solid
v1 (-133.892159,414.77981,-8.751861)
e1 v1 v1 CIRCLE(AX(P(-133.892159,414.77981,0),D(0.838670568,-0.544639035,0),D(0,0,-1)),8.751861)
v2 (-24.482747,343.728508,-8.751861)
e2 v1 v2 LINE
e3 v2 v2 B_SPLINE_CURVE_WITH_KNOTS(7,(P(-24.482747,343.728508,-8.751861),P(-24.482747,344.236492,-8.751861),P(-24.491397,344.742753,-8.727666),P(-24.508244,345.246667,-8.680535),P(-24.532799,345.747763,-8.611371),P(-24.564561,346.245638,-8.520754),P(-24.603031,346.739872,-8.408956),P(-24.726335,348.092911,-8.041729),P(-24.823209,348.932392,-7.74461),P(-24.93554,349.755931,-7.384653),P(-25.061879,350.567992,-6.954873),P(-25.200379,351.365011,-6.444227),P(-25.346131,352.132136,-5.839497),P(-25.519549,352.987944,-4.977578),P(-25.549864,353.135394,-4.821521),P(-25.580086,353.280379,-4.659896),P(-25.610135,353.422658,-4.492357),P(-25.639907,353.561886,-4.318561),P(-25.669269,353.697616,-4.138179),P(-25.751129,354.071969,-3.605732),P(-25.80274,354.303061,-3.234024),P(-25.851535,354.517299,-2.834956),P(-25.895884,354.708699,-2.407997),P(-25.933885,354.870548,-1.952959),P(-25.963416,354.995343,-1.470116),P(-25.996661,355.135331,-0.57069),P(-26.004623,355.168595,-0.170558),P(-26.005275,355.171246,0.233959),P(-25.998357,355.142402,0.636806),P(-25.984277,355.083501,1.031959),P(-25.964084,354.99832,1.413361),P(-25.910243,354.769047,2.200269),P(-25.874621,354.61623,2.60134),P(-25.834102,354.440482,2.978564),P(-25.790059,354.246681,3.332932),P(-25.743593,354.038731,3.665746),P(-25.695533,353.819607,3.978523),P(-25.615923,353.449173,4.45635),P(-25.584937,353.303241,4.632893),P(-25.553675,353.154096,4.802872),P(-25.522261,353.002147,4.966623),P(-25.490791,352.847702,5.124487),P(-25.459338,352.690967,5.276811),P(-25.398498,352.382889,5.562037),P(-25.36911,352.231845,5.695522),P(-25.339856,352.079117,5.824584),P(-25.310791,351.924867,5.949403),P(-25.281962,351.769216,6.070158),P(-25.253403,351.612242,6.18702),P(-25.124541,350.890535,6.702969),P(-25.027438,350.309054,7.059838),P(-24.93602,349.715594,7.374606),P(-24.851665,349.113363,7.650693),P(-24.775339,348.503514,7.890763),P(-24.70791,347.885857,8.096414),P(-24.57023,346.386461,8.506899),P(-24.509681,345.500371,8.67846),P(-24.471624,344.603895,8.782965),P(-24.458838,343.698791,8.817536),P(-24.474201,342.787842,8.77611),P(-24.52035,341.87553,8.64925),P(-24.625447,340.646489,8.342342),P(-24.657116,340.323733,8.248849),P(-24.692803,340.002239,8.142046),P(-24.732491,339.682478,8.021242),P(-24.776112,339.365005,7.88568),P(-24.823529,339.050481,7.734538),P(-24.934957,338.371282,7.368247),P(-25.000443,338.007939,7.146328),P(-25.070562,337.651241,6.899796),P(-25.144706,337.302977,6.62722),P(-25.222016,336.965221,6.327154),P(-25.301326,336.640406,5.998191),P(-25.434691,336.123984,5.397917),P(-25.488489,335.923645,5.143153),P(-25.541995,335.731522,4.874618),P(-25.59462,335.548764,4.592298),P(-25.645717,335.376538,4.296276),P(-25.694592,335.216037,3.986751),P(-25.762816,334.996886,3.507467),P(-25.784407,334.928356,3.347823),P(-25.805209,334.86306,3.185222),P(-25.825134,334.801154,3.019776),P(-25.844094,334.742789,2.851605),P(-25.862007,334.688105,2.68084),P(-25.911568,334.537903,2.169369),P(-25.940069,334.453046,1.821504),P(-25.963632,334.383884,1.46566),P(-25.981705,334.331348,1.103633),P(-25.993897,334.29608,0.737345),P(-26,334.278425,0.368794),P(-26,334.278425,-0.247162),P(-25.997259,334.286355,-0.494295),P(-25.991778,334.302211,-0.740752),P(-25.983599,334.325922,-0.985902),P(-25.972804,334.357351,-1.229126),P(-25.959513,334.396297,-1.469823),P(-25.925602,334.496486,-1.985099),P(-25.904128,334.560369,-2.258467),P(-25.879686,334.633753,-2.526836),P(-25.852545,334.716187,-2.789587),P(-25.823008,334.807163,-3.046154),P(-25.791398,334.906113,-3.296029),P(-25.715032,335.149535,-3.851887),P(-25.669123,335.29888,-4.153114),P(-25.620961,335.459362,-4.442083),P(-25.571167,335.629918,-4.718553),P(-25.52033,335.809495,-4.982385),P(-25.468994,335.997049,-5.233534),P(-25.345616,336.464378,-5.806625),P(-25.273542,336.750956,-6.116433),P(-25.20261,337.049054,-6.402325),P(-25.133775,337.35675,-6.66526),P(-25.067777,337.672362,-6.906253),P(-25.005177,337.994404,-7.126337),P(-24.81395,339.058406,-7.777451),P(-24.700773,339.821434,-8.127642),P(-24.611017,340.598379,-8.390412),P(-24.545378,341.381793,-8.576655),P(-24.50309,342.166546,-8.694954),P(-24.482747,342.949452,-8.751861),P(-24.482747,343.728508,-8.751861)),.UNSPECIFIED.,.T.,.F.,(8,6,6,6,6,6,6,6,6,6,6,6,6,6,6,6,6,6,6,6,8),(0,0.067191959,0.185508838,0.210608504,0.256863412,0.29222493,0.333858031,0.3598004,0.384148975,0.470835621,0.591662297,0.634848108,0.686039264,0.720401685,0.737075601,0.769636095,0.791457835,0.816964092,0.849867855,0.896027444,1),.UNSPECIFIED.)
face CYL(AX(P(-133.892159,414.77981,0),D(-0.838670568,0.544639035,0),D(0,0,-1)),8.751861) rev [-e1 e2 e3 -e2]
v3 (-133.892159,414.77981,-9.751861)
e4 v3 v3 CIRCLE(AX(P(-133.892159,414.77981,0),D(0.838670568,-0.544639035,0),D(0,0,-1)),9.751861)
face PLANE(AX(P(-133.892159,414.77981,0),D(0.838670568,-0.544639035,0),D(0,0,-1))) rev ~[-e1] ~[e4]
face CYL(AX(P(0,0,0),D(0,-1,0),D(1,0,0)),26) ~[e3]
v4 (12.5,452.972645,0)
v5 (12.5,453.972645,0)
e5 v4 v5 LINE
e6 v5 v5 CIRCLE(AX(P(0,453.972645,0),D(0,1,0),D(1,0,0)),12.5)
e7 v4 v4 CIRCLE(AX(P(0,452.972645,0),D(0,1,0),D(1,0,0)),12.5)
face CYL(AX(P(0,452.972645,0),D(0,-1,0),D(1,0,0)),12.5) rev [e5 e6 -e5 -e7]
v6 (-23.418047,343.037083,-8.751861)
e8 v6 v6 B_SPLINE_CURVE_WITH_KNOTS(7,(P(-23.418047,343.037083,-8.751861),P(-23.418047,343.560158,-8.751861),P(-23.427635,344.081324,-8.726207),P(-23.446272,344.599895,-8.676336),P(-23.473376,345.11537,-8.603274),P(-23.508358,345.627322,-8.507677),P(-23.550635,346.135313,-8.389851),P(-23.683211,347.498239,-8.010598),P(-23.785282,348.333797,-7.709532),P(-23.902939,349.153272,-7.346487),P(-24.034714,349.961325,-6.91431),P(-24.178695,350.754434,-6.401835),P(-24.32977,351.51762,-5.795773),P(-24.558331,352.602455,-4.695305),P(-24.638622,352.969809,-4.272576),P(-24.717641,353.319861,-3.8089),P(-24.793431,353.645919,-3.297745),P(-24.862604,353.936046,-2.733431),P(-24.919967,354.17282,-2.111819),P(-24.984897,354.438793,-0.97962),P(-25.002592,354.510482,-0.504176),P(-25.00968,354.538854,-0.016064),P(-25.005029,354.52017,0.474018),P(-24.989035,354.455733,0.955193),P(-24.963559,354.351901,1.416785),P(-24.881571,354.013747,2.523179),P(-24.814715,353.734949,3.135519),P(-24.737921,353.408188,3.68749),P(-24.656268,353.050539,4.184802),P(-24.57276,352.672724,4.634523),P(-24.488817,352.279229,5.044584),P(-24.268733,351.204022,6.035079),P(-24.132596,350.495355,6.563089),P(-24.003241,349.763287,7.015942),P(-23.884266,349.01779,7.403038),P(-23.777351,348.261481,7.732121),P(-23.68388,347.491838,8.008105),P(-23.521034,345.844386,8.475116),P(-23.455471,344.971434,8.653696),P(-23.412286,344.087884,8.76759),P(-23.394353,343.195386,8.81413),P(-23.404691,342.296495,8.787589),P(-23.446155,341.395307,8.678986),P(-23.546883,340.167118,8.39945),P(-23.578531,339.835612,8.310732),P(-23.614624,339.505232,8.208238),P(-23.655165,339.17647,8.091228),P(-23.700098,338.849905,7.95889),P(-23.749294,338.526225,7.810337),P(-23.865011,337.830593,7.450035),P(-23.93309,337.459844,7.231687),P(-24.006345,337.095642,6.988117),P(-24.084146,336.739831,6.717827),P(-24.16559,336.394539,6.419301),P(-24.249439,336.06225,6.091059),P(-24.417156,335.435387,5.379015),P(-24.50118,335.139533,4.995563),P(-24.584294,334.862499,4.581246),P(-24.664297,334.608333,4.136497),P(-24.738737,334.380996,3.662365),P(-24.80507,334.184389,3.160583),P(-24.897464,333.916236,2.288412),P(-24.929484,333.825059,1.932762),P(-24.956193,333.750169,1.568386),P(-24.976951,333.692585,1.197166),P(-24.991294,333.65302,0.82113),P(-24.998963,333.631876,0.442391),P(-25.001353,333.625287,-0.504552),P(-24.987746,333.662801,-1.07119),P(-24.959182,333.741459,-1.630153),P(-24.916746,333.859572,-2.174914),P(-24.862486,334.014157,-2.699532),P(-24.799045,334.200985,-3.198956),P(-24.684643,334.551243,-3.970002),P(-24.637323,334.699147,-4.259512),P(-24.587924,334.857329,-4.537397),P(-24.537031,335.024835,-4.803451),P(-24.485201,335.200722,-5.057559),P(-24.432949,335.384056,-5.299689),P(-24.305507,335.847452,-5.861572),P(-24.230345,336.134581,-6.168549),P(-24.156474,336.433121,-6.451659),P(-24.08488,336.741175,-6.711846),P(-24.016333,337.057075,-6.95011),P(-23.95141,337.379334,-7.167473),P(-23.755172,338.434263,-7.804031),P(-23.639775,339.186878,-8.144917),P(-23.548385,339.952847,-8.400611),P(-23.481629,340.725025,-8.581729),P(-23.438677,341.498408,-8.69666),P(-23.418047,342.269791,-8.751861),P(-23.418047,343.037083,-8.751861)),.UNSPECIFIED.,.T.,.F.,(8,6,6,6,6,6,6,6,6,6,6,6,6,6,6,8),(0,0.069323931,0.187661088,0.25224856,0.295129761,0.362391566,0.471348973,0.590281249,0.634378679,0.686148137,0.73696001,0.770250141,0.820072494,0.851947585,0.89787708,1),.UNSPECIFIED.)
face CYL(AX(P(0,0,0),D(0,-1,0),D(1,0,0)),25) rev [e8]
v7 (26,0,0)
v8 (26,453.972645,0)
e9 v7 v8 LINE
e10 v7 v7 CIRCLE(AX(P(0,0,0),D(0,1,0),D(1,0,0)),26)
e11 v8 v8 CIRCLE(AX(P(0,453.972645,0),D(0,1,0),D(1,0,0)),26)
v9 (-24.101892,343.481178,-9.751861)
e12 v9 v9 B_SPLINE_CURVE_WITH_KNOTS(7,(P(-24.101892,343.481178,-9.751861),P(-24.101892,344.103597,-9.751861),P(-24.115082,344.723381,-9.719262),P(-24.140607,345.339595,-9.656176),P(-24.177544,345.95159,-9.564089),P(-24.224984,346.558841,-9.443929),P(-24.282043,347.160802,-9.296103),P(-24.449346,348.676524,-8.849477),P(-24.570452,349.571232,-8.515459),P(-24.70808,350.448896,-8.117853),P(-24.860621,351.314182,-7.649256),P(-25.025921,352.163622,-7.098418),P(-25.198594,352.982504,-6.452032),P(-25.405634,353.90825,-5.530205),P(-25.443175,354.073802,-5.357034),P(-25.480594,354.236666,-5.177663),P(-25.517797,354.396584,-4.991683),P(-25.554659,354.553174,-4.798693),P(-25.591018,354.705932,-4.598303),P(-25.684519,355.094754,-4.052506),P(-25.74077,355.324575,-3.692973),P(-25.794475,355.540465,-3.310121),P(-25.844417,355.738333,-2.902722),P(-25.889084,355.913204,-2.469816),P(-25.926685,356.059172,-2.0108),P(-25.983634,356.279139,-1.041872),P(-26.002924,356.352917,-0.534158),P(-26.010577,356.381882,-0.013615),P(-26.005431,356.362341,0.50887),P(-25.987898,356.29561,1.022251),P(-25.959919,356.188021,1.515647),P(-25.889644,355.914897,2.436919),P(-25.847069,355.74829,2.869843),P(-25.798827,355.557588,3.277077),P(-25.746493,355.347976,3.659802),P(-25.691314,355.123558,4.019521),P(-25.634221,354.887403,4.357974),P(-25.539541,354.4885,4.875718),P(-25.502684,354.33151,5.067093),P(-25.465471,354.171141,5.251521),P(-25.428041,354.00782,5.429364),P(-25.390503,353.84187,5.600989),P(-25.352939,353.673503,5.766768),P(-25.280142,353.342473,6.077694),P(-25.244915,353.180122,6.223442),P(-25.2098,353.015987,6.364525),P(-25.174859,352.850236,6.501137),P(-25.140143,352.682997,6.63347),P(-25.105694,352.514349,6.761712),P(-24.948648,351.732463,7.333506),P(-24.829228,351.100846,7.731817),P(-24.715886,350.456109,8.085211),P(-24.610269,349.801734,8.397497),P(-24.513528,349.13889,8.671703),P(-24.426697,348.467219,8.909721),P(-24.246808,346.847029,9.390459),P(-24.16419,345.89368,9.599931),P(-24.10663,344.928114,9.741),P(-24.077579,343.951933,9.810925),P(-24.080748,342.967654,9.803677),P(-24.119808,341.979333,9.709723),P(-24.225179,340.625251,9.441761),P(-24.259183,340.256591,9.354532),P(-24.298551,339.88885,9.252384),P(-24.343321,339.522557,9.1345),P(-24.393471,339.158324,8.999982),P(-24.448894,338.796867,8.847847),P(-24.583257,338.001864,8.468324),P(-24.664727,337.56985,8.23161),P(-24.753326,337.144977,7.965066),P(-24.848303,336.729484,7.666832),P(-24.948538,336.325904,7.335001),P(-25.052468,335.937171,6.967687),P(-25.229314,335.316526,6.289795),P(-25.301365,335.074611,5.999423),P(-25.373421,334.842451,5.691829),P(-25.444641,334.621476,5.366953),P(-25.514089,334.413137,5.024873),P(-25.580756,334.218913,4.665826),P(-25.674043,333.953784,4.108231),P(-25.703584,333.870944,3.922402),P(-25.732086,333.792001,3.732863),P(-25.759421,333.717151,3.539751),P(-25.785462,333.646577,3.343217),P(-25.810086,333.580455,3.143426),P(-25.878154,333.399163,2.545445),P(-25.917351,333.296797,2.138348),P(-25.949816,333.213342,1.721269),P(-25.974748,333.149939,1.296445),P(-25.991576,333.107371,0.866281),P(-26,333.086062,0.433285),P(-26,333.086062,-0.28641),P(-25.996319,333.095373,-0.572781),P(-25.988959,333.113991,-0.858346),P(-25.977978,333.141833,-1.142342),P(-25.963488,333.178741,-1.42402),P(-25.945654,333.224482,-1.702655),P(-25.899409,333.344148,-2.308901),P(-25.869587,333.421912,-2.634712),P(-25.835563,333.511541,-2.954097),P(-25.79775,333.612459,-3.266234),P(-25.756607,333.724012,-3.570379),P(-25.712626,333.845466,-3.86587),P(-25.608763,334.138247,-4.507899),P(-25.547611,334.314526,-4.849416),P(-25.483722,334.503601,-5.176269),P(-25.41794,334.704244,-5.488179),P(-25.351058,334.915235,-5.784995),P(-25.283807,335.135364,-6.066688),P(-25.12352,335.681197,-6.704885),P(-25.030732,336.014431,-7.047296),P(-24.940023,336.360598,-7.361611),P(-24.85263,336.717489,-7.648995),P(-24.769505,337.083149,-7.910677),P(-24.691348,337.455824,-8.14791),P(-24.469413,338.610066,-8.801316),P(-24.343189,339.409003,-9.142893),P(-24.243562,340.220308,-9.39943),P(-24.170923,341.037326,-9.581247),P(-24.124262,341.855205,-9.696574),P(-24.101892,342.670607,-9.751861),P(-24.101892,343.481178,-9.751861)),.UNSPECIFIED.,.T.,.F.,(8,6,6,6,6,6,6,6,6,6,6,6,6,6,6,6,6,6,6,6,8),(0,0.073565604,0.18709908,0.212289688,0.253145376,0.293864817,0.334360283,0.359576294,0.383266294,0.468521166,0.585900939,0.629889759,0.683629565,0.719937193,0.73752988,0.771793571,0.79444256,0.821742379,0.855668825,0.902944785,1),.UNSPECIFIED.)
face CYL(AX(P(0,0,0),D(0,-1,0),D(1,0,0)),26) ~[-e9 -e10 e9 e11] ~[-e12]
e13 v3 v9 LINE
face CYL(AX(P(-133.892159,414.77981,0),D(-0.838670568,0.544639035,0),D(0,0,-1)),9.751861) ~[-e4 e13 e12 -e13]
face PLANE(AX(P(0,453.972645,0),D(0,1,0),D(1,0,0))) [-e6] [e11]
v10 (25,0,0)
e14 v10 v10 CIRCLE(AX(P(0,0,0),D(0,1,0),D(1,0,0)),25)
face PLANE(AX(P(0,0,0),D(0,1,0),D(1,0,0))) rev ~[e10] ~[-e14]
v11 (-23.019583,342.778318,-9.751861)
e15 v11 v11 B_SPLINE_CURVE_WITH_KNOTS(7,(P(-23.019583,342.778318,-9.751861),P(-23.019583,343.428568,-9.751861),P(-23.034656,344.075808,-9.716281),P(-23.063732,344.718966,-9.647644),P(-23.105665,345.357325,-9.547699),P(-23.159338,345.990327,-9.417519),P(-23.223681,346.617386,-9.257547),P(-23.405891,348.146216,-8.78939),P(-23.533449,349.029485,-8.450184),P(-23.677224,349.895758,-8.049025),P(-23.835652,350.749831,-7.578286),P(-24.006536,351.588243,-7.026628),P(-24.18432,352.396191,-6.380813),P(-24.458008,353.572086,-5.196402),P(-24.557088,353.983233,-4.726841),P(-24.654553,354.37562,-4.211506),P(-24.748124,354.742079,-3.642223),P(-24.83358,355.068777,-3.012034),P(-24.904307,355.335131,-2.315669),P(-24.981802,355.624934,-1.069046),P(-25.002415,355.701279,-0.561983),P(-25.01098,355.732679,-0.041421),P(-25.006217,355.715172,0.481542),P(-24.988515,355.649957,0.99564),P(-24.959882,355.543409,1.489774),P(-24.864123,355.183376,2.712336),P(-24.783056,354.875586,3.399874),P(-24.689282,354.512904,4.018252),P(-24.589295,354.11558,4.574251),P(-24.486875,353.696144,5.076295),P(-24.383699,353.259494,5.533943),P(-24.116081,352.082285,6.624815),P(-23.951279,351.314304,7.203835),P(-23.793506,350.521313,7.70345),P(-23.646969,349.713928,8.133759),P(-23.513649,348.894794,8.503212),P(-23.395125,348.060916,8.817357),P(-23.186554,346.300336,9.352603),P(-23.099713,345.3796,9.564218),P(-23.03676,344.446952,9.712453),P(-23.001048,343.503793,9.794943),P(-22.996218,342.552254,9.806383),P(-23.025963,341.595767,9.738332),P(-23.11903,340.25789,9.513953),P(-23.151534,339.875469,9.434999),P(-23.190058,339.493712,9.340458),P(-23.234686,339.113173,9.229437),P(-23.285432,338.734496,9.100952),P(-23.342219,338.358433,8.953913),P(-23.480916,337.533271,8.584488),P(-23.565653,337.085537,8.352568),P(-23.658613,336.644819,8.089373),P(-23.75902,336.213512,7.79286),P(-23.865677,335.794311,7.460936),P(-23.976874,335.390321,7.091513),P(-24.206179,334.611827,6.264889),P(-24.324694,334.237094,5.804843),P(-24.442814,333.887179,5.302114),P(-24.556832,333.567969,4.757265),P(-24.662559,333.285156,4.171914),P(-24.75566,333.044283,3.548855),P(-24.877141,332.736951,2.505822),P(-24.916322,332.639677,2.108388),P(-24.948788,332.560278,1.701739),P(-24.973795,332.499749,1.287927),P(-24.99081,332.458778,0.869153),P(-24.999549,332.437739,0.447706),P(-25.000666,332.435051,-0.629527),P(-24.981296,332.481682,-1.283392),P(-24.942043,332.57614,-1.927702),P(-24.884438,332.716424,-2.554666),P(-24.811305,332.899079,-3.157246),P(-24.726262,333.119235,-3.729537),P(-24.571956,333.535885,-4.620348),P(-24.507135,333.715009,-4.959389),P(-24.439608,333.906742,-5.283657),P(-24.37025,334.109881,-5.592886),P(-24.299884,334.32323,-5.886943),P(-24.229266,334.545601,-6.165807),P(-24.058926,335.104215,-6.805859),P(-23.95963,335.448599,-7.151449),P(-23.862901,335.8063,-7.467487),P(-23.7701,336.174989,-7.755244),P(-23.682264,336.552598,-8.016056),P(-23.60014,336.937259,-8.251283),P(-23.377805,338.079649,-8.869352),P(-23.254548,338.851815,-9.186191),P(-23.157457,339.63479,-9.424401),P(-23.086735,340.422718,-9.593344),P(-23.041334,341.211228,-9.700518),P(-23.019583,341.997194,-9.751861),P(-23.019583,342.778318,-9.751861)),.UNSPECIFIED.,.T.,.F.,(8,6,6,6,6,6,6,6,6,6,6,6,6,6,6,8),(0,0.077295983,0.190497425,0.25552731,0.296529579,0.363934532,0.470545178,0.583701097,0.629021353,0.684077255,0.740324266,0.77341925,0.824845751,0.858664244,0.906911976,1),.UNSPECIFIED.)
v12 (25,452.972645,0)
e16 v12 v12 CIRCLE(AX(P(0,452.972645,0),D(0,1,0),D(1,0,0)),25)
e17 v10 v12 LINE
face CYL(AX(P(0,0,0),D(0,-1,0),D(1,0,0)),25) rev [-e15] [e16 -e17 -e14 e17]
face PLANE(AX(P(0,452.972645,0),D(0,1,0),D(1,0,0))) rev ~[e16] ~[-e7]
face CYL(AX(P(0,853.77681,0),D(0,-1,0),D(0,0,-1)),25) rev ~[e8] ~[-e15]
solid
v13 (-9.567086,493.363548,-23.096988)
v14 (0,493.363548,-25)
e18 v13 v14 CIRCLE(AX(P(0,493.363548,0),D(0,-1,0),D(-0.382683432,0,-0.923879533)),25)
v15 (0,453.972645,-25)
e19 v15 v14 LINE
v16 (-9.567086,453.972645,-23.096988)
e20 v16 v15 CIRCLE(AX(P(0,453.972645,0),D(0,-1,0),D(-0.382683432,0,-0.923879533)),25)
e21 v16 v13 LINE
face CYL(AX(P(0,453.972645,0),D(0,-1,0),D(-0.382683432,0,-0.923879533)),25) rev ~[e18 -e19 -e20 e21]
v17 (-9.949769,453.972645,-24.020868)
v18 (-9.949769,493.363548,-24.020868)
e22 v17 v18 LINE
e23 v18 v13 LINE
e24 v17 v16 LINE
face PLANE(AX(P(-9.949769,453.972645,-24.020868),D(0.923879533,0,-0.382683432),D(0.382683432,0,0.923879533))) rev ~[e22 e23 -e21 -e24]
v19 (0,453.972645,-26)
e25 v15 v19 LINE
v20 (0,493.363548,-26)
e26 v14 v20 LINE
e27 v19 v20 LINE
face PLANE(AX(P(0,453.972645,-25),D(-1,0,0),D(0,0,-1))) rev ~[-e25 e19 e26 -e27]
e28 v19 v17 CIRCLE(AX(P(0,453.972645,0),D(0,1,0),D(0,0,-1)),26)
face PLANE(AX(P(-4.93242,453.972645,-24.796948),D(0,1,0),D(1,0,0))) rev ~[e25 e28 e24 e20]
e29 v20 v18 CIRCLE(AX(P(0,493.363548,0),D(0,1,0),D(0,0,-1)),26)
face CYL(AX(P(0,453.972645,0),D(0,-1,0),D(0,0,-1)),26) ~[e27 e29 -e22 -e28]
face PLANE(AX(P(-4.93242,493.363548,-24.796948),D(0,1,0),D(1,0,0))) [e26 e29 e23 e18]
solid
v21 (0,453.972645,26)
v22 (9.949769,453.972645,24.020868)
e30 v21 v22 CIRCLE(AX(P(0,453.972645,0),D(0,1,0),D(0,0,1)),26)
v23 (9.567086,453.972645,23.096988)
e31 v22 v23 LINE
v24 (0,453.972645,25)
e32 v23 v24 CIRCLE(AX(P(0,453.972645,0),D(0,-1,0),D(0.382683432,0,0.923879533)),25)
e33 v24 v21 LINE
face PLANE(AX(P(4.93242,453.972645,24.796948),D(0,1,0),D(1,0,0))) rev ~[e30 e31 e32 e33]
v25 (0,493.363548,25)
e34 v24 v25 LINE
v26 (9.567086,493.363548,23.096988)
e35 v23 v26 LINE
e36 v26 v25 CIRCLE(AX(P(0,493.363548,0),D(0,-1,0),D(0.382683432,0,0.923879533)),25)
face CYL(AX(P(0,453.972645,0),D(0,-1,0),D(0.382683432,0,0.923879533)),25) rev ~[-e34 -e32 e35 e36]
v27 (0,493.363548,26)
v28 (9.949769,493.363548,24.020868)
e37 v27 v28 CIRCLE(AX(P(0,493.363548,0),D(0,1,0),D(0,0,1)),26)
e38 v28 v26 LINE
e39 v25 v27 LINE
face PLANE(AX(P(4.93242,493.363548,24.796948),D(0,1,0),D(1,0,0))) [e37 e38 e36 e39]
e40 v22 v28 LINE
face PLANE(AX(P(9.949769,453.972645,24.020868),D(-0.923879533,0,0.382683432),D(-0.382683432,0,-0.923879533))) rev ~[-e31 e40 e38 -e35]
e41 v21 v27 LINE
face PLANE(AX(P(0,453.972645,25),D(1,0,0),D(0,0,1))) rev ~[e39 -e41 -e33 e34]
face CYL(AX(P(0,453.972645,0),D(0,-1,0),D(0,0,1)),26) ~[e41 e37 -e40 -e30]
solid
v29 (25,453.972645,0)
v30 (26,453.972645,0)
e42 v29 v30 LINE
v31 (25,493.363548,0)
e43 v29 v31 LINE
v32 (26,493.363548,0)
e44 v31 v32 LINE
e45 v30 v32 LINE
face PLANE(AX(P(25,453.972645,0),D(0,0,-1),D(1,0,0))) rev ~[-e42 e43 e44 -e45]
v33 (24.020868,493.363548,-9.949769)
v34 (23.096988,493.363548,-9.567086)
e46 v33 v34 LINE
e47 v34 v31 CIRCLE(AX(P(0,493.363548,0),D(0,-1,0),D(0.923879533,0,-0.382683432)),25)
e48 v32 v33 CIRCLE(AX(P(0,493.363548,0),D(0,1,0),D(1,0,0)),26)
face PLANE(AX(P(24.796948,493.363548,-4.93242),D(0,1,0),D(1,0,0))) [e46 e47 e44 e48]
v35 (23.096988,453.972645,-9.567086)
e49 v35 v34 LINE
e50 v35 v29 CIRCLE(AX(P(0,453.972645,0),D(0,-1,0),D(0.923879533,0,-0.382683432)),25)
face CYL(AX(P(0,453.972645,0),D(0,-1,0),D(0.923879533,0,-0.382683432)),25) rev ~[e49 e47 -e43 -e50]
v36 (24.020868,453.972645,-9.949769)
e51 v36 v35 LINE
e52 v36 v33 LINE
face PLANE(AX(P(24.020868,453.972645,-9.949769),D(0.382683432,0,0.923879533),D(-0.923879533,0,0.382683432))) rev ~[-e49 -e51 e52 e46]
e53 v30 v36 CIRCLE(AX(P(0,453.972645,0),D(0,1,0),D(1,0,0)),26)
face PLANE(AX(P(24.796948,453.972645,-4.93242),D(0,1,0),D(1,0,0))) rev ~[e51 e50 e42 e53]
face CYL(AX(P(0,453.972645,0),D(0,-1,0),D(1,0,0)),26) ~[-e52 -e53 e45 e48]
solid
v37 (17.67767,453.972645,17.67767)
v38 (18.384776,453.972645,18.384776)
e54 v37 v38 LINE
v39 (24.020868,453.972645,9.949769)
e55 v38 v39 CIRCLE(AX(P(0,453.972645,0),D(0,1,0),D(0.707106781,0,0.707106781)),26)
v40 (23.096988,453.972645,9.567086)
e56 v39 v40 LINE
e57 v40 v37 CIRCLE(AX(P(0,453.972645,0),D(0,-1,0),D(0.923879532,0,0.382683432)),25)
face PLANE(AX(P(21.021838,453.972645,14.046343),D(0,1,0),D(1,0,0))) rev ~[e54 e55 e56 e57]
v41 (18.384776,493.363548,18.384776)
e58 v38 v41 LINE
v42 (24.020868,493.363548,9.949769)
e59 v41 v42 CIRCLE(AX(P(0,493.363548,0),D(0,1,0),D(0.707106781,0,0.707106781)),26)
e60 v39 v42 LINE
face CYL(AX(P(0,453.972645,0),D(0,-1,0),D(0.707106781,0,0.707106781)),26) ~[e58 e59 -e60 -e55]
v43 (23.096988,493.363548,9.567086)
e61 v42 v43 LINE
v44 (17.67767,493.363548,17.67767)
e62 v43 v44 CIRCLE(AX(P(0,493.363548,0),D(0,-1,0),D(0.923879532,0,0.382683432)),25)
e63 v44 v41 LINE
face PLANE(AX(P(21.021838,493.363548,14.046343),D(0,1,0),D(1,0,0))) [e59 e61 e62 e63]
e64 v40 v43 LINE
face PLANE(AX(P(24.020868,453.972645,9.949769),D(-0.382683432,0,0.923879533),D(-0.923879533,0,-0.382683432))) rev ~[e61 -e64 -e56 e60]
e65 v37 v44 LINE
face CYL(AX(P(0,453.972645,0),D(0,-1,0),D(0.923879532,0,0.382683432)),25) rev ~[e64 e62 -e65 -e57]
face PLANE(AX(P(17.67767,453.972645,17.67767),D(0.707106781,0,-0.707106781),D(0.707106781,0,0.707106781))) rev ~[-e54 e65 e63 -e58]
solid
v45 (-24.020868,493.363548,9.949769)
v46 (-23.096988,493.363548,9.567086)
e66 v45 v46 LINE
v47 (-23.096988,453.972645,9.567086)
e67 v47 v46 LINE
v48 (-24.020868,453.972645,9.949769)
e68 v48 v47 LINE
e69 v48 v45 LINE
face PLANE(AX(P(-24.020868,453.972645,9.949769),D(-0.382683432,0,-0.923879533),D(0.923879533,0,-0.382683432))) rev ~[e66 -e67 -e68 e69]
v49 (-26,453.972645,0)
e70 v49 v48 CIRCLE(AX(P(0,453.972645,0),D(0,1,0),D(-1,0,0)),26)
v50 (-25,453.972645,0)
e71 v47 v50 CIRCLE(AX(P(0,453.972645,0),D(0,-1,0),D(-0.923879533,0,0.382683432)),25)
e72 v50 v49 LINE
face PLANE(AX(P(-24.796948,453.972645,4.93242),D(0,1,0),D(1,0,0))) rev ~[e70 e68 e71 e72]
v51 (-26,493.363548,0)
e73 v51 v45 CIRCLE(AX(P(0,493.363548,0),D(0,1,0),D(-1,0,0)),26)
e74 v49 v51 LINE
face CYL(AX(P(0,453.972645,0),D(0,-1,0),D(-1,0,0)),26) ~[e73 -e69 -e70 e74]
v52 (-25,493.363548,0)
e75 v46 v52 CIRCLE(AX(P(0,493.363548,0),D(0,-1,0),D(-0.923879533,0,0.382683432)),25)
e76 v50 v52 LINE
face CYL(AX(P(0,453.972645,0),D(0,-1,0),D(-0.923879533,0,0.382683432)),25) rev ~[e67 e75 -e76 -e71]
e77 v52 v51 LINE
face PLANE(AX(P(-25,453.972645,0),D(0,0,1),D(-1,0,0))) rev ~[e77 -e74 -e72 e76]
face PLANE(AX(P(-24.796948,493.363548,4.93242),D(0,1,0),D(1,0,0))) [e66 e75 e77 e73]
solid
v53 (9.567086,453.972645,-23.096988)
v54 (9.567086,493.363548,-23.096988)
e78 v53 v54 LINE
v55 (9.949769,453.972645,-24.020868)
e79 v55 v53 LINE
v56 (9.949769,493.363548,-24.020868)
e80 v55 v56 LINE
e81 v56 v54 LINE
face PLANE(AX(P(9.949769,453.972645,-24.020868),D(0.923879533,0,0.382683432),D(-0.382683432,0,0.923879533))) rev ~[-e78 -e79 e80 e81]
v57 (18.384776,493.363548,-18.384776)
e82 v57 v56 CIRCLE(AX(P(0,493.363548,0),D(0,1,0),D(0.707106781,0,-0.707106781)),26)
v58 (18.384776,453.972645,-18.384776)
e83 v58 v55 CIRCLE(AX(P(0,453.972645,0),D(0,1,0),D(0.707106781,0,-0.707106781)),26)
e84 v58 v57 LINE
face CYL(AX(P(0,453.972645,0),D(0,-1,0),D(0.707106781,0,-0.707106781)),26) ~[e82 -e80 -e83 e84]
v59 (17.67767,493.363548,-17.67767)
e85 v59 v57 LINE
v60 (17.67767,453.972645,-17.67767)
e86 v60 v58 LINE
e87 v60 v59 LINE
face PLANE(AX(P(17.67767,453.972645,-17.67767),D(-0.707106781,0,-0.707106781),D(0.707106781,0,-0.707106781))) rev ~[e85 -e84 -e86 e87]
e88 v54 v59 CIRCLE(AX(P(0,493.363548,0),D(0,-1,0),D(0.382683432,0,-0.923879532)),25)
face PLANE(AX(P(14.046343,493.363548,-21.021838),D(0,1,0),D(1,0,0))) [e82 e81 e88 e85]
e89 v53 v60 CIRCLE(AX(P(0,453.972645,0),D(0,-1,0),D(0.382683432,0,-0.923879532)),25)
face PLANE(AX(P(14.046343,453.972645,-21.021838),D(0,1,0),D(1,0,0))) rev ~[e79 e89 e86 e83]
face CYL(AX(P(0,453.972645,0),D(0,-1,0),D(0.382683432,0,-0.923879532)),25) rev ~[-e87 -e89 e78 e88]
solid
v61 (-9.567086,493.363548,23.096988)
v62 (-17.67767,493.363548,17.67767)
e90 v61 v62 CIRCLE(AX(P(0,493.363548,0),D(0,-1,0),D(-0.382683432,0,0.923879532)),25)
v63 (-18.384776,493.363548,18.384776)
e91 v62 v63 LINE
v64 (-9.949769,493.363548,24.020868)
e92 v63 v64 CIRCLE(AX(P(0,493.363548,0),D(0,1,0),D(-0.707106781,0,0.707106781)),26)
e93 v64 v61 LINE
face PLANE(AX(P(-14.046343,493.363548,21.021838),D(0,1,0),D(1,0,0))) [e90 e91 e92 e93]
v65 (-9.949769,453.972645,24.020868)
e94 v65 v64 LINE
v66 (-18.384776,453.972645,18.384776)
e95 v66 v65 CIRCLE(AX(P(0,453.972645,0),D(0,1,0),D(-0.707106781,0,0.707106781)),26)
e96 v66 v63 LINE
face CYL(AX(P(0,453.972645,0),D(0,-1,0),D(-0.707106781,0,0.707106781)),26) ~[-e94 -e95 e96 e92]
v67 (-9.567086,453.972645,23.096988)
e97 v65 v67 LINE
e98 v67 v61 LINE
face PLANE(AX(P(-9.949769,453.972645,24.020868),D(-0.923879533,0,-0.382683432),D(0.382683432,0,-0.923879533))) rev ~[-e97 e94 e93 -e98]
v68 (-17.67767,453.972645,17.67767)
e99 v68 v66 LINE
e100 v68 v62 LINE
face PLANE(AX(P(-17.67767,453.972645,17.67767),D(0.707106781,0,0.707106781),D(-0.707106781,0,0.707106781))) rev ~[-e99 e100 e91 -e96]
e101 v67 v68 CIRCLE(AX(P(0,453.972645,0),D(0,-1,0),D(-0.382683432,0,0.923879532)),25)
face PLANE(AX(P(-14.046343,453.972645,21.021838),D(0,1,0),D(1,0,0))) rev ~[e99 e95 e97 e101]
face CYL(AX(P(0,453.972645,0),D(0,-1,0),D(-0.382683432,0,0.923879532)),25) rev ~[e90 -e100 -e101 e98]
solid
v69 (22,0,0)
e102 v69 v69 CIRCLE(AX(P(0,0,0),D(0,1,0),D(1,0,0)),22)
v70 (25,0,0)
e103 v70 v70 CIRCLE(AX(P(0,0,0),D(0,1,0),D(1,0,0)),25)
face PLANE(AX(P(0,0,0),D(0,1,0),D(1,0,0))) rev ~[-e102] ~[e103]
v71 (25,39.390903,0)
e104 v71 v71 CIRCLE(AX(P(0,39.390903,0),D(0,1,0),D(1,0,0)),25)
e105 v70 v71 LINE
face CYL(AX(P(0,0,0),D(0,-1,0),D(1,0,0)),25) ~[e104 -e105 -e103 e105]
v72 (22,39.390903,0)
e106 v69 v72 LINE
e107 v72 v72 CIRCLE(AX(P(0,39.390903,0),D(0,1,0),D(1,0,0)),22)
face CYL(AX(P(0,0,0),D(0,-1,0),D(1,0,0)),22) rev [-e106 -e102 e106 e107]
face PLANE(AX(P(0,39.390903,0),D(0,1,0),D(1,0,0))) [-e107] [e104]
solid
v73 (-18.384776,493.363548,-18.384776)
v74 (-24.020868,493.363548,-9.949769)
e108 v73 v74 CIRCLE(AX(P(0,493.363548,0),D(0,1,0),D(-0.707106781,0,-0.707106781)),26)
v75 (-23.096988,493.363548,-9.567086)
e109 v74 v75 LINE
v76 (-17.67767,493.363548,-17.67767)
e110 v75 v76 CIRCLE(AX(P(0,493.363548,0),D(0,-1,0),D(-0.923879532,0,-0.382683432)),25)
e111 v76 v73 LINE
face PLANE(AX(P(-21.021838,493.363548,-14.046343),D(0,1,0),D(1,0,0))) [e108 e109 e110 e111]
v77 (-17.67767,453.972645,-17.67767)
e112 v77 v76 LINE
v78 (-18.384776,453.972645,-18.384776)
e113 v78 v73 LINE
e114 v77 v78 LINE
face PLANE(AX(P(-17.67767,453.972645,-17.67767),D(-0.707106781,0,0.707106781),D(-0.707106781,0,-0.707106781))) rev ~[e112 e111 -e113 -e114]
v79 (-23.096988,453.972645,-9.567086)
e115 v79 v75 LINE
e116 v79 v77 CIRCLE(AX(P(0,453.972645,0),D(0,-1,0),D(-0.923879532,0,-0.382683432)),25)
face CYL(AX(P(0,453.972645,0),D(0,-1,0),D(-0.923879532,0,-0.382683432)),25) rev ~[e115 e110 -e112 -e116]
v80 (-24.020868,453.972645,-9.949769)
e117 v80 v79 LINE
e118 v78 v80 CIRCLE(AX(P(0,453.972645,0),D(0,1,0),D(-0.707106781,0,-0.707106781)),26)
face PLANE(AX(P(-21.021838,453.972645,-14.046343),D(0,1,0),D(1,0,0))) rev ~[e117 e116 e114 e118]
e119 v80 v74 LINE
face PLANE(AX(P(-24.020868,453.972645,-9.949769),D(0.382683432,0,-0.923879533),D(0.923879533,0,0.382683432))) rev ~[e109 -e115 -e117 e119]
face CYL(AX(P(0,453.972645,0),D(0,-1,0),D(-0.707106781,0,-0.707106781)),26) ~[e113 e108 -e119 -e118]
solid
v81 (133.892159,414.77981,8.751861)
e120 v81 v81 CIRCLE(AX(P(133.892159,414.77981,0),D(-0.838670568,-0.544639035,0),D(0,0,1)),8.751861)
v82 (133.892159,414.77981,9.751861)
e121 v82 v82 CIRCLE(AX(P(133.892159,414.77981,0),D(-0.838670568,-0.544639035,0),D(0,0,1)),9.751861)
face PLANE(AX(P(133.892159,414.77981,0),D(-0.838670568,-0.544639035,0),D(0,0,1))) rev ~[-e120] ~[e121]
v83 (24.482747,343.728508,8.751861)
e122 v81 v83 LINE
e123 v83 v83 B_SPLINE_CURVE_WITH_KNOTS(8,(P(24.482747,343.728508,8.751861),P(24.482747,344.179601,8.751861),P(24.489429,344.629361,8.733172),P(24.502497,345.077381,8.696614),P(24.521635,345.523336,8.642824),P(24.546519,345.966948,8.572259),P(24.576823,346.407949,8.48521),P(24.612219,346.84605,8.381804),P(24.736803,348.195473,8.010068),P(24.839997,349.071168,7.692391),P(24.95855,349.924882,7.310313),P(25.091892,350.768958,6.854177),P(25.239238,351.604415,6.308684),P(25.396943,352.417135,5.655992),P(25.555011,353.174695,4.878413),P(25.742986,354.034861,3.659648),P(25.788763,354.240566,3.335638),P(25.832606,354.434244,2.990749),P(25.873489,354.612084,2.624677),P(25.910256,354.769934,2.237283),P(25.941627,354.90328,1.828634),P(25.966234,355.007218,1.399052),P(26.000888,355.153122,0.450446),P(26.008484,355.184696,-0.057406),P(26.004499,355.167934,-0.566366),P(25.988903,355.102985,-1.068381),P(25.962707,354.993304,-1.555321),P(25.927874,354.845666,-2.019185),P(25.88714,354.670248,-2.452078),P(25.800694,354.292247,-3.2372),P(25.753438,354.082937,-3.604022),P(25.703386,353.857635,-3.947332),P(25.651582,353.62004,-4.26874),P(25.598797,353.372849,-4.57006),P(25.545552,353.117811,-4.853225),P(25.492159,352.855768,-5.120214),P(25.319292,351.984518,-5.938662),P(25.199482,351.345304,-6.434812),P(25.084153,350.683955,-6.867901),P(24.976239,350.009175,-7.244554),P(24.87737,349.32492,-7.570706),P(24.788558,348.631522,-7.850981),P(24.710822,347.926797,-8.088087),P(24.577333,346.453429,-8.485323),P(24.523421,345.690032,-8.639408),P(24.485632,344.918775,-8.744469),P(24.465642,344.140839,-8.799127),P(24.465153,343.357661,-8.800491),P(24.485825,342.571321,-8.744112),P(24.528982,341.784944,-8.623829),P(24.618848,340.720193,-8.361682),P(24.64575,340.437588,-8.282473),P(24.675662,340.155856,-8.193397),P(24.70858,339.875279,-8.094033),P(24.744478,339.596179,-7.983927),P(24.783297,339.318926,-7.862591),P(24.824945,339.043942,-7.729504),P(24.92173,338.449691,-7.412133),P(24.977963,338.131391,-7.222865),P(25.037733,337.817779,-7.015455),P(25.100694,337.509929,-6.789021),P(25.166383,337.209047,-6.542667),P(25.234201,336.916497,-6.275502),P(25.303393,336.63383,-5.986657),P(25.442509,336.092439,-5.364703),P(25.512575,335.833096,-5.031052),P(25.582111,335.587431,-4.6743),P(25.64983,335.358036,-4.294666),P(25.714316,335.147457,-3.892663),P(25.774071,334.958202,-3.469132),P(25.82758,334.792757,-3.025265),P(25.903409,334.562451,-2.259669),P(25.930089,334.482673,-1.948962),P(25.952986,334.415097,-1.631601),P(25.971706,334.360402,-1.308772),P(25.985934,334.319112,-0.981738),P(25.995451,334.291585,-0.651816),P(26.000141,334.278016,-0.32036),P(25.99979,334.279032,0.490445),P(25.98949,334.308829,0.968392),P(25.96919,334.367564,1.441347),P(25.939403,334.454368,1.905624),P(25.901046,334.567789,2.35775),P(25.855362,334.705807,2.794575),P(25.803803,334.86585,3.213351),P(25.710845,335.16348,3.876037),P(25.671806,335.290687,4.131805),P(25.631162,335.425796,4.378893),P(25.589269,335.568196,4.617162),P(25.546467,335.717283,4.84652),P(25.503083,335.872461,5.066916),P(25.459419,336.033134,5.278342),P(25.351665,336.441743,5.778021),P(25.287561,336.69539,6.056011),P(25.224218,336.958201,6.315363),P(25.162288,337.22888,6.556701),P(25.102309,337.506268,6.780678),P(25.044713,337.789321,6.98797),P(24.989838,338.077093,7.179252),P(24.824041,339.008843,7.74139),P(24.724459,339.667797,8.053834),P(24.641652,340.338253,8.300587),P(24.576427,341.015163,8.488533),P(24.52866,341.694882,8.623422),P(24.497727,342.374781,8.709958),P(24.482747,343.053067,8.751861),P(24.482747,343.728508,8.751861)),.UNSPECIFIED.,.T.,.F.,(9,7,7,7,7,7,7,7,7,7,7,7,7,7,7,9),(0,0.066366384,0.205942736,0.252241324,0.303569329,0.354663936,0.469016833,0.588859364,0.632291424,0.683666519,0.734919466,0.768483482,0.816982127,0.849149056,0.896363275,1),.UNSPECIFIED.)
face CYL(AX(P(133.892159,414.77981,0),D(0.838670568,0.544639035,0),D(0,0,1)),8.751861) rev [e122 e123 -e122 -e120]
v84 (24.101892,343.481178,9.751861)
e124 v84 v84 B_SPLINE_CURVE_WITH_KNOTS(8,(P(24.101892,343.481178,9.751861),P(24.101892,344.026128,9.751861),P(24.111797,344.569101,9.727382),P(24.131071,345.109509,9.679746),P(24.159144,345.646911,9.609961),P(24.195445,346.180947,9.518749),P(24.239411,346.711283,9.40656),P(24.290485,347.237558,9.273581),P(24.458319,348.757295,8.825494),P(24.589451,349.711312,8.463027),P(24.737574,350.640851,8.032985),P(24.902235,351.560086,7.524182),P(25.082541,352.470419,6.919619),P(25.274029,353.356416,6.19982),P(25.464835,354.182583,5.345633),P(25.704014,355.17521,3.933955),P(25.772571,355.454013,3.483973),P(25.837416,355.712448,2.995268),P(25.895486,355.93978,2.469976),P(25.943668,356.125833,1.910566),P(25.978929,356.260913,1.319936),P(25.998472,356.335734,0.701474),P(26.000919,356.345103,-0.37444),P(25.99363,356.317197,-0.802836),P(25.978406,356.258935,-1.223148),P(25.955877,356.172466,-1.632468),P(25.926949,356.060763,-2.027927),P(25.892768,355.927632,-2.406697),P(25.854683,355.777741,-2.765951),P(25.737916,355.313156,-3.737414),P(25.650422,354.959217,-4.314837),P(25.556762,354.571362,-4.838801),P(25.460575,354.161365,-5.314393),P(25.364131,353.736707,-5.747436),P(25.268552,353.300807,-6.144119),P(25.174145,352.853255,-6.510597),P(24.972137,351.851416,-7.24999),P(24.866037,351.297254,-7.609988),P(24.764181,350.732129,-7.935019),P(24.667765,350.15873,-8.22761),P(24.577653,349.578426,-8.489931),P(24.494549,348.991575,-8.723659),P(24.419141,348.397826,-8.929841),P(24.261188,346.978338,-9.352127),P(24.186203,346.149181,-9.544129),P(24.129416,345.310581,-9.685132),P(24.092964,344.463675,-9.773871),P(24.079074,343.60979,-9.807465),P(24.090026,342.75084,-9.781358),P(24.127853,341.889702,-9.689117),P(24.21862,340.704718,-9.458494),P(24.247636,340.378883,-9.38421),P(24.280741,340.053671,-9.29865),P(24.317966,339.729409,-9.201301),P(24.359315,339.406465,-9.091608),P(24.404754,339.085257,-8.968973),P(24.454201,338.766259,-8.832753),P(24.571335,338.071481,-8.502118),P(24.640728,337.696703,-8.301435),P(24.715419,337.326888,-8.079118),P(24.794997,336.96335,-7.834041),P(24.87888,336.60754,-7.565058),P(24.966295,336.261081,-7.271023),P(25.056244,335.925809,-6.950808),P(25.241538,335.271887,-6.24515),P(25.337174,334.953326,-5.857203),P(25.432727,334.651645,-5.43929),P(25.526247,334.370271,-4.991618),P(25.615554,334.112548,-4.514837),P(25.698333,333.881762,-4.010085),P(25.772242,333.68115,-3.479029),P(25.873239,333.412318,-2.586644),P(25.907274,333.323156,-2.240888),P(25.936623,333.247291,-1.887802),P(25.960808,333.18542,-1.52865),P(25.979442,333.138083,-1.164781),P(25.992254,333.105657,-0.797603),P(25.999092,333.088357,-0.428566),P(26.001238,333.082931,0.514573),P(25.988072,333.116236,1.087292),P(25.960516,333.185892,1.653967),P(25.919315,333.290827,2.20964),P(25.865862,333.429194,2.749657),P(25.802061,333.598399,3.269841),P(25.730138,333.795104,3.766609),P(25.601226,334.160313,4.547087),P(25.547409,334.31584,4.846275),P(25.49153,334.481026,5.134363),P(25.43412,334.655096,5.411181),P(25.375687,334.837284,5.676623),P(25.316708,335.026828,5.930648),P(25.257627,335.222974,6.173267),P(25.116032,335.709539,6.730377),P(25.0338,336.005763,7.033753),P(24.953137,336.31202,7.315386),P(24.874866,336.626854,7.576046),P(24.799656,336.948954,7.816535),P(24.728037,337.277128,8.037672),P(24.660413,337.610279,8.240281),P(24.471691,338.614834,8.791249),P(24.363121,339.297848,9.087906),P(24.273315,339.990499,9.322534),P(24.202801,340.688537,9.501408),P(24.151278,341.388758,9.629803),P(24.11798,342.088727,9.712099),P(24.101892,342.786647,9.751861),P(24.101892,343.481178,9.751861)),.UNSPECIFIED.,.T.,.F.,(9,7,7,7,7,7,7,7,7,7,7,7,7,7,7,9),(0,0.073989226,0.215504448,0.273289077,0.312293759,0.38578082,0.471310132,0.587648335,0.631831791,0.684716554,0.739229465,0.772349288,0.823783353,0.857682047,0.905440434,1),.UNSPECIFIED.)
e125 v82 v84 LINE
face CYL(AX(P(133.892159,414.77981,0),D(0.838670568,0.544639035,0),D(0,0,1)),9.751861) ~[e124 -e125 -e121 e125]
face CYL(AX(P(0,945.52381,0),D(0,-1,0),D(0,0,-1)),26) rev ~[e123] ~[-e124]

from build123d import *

# Parameters (mm, degrees)
CONNECTORPIECE_R           = 25
CONNECTORPIECE_R_2         = 22
VELCRO_CONNECTION_DEPTH    = 39.390903205
CONNECTORPIECE_6_R         = 26
CONNECTORPIECE_6_R_2       = 25
FABRIC_DEPTH               = 453.972644869
TOP_START                  = -1
SKETCH2_R                  = 25
SKETCH2_R_2                = 12.5
TOP_HOLE_DEPTH             = 1
ARM_1_EXTRUSION_REACH      = 413.497
ARM_1_EXTRUSION_END_RADIUS = 25
ARM_1_R                    = 9.751861444
ARM_1_R_2                  = 8.751861444
BOSS_EXTRUDE2_REACH        = 504.244
BOSS_EXTRUDE2_END_RADIUS   = 26
SKETCH4_R                  = 9.751861444
SKETCH4_R_2                = 8.751861444
BOSS_EXTRUDE4_DEPTH        = 39.390903205
BOSS_EXTRUDE4_2_DEPTH      = 39.390903205
BOSS_EXTRUDE4_3_DEPTH      = 39.390903205
BOSS_EXTRUDE4_4_DEPTH      = 39.390903205
BOSS_EXTRUDE4_5_DEPTH      = 39.390903205
BOSS_EXTRUDE4_6_DEPTH      = 39.390903205
BOSS_EXTRUDE4_7_DEPTH      = 39.390903205
BOSS_EXTRUDE4_8_DEPTH      = 39.390903205


with BuildPart() as part:
    # connectorpiece → velcro connection (new body)
    with BuildSketch(Plane(origin=(0, 0, 0), x_dir=(1, 0, 0), z_dir=(0, 1, 0))):
        Circle(CONNECTORPIECE_R)
        Circle(CONNECTORPIECE_R_2, mode=Mode.SUBTRACT)
    extrude(amount=VELCRO_CONNECTION_DEPTH)


with BuildPart() as body_2:
    # connectorpiece<6> → fabric (new body)
    with BuildSketch(Plane(origin=(0, 0, 0), x_dir=(1, 0, 0), z_dir=(0, 1, 0))):
        Circle(CONNECTORPIECE_6_R)
        Circle(CONNECTORPIECE_6_R_2, mode=Mode.SUBTRACT)
    extrude(amount=FABRIC_DEPTH)

    # Sketch2 → top hole (add)
    with BuildSketch(Plane(origin=(0, 453.972644869, 0), x_dir=(1, 0, 0), z_dir=(0, 1, 0)).offset(TOP_START)):
        Circle(SKETCH2_R)
        Circle(SKETCH2_R_2, mode=Mode.SUBTRACT)
    extrude(amount=TOP_HOLE_DEPTH)

    # arm 1 extrusion: up to this cylinder (the profile starts outside it)
    arm_1_extrusion_end = Plane(origin=(0, 414.77981, 0), z_dir=(0, -1, 0)) * Cylinder(ARM_1_EXTRUSION_END_RADIUS, 877.994, mode=Mode.PRIVATE)
    # arm 1 → arm 1 extrusion (add, up to the surface)
    with BuildSketch(Plane(origin=(-283.635608583, 184.195117915, 0), x_dir=(0, 0, -1), z_dir=(0.8386705679454215, -0.5446390350150312, 0)), mode=Mode.PRIVATE) as arm_1_extrusion_sk1:
        with Locations((0, 274.940723008)):
            Circle(ARM_1_R)
        with Locations((0, 274.940723008)):
            Circle(ARM_1_R_2, mode=Mode.SUBTRACT)
    arm_1_extrusion_tool1 = extrude(arm_1_extrusion_sk1.sketch, amount=ARM_1_EXTRUSION_REACH, mode=Mode.PRIVATE) - arm_1_extrusion_end
    add(arm_1_extrusion_tool1.solids().sort_by_distance((-133.892159, 414.77981, 9.476037))[0])


with BuildPart() as body_3:
    # Boss-Extrude2: up to this cylinder (the profile starts outside it)
    boss_extrude2_end = Plane(origin=(0, 414.77981, 0), z_dir=(0, -1, 0)) * Cylinder(BOSS_EXTRUDE2_END_RADIUS, 1061.488, mode=Mode.PRIVATE)
    # Sketch4 → Boss-Extrude2 (new, up to the surface)
    with BuildSketch(Plane(origin=(283.635608583, 184.195117915, 0), x_dir=(0, 0, 1), z_dir=(-0.8386705679454256, -0.5446390350150249, 0)), mode=Mode.PRIVATE) as boss_extrude2_sk1:
        with Locations((0, 274.940723008)):
            Circle(SKETCH4_R)
        with Locations((0, 274.940723008)):
            Circle(SKETCH4_R_2, mode=Mode.SUBTRACT)
    boss_extrude2_tool1 = extrude(boss_extrude2_sk1.sketch, amount=BOSS_EXTRUDE2_REACH, mode=Mode.PRIVATE) - boss_extrude2_end
    add(boss_extrude2_tool1.solids().sort_by_distance((133.892159, 414.77981, -9.476037))[0])


with BuildPart() as body_4:
    # Sketch5 → Boss-Extrude4 (new body)
    with BuildSketch(Plane(origin=(0, 453.972644869, 0), x_dir=(1, 0, 0), z_dir=(0, 1, 0))):
        with BuildLine():
            ThreePointArc((23.096988313, 9.567085809), (24.51963201, 4.87725805), (25, 0))
            Line((25, 0), (26, 0))
            ThreePointArc((26, 0), (25.50041729, 5.072348372), (24.020867845, 9.949769241))
            Line((24.020867845, 9.949769241), (23.096988313, 9.567085809))
        make_face()
    extrude(amount=BOSS_EXTRUDE4_DEPTH)


with BuildPart() as body_5:
    # Sketch5 → Boss-Extrude4 2 (new body)
    with BuildSketch(Plane(origin=(0, 453.972644869, 0), x_dir=(1, 0, 0), z_dir=(0, 1, 0))):
        with BuildLine():
            Line((24.020867845, -9.949769241), (23.096988313, -9.567085809))
            ThreePointArc((23.096988313, -9.567085809), (20.786740308, -13.889255825), (17.67766953, -17.67766953))
            Line((17.67766953, -17.67766953), (18.384776311, -18.384776311))
            ThreePointArc((18.384776311, -18.384776311), (21.61820992, -14.444826059), (24.020867845, -9.949769241))
        make_face()
    extrude(amount=BOSS_EXTRUDE4_2_DEPTH)


with BuildPart() as body_6:
    # Sketch5 → Boss-Extrude4 3 (new body)
    with BuildSketch(Plane(origin=(0, 453.972644869, 0), x_dir=(1, 0, 0), z_dir=(0, 1, 0))):
        with BuildLine():
            Line((9.949769241, -24.020867845), (9.567085809, -23.096988313))
            ThreePointArc((9.567085809, -23.096988313), (4.87725805, -24.51963201), (0, -25))
            Line((0, -25), (0, -26))
            ThreePointArc((0, -26), (5.072348372, -25.50041729), (9.949769241, -24.020867845))
        make_face()
    extrude(amount=BOSS_EXTRUDE4_3_DEPTH)


with BuildPart() as body_7:
    # Sketch5 → Boss-Extrude4 4 (new body)
    with BuildSketch(Plane(origin=(0, 453.972644869, 0), x_dir=(1, 0, 0), z_dir=(0, 1, 0))):
        with BuildLine():
            Line((-9.949769241, -24.020867845), (-9.567085809, -23.096988313))
            ThreePointArc((-9.567085809, -23.096988313), (-13.889255825, -20.786740308), (-17.67766953, -17.67766953))
            Line((-17.67766953, -17.67766953), (-18.384776311, -18.384776311))
            ThreePointArc((-18.384776311, -18.384776311), (-14.444826059, -21.61820992), (-9.949769241, -24.020867845))
        make_face()
    extrude(amount=BOSS_EXTRUDE4_4_DEPTH)


with BuildPart() as body_8:
    # Sketch5 → Boss-Extrude4 5 (new body)
    with BuildSketch(Plane(origin=(0, 453.972644869, 0), x_dir=(1, 0, 0), z_dir=(0, 1, 0))):
        with BuildLine():
            Line((-24.020867845, -9.949769241), (-23.096988313, -9.567085809))
            ThreePointArc((-23.096988313, -9.567085809), (-24.51963201, -4.87725805), (-25, 0))
            Line((-25, 0), (-26, 0))
            ThreePointArc((-26, 0), (-25.50041729, -5.072348372), (-24.020867845, -9.949769241))
        make_face()
    extrude(amount=BOSS_EXTRUDE4_5_DEPTH)


with BuildPart() as body_9:
    # Sketch5 → Boss-Extrude4 6 (new body)
    with BuildSketch(Plane(origin=(0, 453.972644869, 0), x_dir=(1, 0, 0), z_dir=(0, 1, 0))):
        with BuildLine():
            Line((-24.020867845, 9.949769241), (-23.096988313, 9.567085809))
            ThreePointArc((-23.096988313, 9.567085809), (-20.786740308, 13.889255825), (-17.67766953, 17.67766953))
            Line((-17.67766953, 17.67766953), (-18.384776311, 18.384776311))
            ThreePointArc((-18.384776311, 18.384776311), (-21.61820992, 14.444826059), (-24.020867845, 9.949769241))
        make_face()
    extrude(amount=BOSS_EXTRUDE4_6_DEPTH)


with BuildPart() as body_10:
    # Sketch5 → Boss-Extrude4 7 (new body)
    with BuildSketch(Plane(origin=(0, 453.972644869, 0), x_dir=(1, 0, 0), z_dir=(0, 1, 0))):
        with BuildLine():
            Line((-9.949769241, 24.020867845), (-9.567085809, 23.096988313))
            ThreePointArc((-9.567085809, 23.096988313), (-4.87725805, 24.51963201), (0, 25))
            Line((0, 25), (0, 26))
            ThreePointArc((0, 26), (-5.072348372, 25.50041729), (-9.949769241, 24.020867845))
        make_face()
    extrude(amount=BOSS_EXTRUDE4_7_DEPTH)


with BuildPart() as body_11:
    # Sketch5 → Boss-Extrude4 8 (new body)
    with BuildSketch(Plane(origin=(0, 453.972644869, 0), x_dir=(1, 0, 0), z_dir=(0, 1, 0))):
        with BuildLine():
            Line((9.949769241, 24.020867845), (9.567085809, 23.096988313))
            ThreePointArc((9.567085809, 23.096988313), (13.889255825, 20.786740308), (17.67766953, 17.67766953))
            Line((17.67766953, 17.67766953), (18.384776311, 18.384776311))
            ThreePointArc((18.384776311, 18.384776311), (14.444826059, 21.61820992), (9.949769241, 24.020867845))
        make_face()
    extrude(amount=BOSS_EXTRUDE4_8_DEPTH)


solid = Compound([part.part, body_2.part, body_3.part, body_4.part, body_5.part, body_6.part, body_7.part, body_8.part, body_9.part, body_10.part, body_11.part])
